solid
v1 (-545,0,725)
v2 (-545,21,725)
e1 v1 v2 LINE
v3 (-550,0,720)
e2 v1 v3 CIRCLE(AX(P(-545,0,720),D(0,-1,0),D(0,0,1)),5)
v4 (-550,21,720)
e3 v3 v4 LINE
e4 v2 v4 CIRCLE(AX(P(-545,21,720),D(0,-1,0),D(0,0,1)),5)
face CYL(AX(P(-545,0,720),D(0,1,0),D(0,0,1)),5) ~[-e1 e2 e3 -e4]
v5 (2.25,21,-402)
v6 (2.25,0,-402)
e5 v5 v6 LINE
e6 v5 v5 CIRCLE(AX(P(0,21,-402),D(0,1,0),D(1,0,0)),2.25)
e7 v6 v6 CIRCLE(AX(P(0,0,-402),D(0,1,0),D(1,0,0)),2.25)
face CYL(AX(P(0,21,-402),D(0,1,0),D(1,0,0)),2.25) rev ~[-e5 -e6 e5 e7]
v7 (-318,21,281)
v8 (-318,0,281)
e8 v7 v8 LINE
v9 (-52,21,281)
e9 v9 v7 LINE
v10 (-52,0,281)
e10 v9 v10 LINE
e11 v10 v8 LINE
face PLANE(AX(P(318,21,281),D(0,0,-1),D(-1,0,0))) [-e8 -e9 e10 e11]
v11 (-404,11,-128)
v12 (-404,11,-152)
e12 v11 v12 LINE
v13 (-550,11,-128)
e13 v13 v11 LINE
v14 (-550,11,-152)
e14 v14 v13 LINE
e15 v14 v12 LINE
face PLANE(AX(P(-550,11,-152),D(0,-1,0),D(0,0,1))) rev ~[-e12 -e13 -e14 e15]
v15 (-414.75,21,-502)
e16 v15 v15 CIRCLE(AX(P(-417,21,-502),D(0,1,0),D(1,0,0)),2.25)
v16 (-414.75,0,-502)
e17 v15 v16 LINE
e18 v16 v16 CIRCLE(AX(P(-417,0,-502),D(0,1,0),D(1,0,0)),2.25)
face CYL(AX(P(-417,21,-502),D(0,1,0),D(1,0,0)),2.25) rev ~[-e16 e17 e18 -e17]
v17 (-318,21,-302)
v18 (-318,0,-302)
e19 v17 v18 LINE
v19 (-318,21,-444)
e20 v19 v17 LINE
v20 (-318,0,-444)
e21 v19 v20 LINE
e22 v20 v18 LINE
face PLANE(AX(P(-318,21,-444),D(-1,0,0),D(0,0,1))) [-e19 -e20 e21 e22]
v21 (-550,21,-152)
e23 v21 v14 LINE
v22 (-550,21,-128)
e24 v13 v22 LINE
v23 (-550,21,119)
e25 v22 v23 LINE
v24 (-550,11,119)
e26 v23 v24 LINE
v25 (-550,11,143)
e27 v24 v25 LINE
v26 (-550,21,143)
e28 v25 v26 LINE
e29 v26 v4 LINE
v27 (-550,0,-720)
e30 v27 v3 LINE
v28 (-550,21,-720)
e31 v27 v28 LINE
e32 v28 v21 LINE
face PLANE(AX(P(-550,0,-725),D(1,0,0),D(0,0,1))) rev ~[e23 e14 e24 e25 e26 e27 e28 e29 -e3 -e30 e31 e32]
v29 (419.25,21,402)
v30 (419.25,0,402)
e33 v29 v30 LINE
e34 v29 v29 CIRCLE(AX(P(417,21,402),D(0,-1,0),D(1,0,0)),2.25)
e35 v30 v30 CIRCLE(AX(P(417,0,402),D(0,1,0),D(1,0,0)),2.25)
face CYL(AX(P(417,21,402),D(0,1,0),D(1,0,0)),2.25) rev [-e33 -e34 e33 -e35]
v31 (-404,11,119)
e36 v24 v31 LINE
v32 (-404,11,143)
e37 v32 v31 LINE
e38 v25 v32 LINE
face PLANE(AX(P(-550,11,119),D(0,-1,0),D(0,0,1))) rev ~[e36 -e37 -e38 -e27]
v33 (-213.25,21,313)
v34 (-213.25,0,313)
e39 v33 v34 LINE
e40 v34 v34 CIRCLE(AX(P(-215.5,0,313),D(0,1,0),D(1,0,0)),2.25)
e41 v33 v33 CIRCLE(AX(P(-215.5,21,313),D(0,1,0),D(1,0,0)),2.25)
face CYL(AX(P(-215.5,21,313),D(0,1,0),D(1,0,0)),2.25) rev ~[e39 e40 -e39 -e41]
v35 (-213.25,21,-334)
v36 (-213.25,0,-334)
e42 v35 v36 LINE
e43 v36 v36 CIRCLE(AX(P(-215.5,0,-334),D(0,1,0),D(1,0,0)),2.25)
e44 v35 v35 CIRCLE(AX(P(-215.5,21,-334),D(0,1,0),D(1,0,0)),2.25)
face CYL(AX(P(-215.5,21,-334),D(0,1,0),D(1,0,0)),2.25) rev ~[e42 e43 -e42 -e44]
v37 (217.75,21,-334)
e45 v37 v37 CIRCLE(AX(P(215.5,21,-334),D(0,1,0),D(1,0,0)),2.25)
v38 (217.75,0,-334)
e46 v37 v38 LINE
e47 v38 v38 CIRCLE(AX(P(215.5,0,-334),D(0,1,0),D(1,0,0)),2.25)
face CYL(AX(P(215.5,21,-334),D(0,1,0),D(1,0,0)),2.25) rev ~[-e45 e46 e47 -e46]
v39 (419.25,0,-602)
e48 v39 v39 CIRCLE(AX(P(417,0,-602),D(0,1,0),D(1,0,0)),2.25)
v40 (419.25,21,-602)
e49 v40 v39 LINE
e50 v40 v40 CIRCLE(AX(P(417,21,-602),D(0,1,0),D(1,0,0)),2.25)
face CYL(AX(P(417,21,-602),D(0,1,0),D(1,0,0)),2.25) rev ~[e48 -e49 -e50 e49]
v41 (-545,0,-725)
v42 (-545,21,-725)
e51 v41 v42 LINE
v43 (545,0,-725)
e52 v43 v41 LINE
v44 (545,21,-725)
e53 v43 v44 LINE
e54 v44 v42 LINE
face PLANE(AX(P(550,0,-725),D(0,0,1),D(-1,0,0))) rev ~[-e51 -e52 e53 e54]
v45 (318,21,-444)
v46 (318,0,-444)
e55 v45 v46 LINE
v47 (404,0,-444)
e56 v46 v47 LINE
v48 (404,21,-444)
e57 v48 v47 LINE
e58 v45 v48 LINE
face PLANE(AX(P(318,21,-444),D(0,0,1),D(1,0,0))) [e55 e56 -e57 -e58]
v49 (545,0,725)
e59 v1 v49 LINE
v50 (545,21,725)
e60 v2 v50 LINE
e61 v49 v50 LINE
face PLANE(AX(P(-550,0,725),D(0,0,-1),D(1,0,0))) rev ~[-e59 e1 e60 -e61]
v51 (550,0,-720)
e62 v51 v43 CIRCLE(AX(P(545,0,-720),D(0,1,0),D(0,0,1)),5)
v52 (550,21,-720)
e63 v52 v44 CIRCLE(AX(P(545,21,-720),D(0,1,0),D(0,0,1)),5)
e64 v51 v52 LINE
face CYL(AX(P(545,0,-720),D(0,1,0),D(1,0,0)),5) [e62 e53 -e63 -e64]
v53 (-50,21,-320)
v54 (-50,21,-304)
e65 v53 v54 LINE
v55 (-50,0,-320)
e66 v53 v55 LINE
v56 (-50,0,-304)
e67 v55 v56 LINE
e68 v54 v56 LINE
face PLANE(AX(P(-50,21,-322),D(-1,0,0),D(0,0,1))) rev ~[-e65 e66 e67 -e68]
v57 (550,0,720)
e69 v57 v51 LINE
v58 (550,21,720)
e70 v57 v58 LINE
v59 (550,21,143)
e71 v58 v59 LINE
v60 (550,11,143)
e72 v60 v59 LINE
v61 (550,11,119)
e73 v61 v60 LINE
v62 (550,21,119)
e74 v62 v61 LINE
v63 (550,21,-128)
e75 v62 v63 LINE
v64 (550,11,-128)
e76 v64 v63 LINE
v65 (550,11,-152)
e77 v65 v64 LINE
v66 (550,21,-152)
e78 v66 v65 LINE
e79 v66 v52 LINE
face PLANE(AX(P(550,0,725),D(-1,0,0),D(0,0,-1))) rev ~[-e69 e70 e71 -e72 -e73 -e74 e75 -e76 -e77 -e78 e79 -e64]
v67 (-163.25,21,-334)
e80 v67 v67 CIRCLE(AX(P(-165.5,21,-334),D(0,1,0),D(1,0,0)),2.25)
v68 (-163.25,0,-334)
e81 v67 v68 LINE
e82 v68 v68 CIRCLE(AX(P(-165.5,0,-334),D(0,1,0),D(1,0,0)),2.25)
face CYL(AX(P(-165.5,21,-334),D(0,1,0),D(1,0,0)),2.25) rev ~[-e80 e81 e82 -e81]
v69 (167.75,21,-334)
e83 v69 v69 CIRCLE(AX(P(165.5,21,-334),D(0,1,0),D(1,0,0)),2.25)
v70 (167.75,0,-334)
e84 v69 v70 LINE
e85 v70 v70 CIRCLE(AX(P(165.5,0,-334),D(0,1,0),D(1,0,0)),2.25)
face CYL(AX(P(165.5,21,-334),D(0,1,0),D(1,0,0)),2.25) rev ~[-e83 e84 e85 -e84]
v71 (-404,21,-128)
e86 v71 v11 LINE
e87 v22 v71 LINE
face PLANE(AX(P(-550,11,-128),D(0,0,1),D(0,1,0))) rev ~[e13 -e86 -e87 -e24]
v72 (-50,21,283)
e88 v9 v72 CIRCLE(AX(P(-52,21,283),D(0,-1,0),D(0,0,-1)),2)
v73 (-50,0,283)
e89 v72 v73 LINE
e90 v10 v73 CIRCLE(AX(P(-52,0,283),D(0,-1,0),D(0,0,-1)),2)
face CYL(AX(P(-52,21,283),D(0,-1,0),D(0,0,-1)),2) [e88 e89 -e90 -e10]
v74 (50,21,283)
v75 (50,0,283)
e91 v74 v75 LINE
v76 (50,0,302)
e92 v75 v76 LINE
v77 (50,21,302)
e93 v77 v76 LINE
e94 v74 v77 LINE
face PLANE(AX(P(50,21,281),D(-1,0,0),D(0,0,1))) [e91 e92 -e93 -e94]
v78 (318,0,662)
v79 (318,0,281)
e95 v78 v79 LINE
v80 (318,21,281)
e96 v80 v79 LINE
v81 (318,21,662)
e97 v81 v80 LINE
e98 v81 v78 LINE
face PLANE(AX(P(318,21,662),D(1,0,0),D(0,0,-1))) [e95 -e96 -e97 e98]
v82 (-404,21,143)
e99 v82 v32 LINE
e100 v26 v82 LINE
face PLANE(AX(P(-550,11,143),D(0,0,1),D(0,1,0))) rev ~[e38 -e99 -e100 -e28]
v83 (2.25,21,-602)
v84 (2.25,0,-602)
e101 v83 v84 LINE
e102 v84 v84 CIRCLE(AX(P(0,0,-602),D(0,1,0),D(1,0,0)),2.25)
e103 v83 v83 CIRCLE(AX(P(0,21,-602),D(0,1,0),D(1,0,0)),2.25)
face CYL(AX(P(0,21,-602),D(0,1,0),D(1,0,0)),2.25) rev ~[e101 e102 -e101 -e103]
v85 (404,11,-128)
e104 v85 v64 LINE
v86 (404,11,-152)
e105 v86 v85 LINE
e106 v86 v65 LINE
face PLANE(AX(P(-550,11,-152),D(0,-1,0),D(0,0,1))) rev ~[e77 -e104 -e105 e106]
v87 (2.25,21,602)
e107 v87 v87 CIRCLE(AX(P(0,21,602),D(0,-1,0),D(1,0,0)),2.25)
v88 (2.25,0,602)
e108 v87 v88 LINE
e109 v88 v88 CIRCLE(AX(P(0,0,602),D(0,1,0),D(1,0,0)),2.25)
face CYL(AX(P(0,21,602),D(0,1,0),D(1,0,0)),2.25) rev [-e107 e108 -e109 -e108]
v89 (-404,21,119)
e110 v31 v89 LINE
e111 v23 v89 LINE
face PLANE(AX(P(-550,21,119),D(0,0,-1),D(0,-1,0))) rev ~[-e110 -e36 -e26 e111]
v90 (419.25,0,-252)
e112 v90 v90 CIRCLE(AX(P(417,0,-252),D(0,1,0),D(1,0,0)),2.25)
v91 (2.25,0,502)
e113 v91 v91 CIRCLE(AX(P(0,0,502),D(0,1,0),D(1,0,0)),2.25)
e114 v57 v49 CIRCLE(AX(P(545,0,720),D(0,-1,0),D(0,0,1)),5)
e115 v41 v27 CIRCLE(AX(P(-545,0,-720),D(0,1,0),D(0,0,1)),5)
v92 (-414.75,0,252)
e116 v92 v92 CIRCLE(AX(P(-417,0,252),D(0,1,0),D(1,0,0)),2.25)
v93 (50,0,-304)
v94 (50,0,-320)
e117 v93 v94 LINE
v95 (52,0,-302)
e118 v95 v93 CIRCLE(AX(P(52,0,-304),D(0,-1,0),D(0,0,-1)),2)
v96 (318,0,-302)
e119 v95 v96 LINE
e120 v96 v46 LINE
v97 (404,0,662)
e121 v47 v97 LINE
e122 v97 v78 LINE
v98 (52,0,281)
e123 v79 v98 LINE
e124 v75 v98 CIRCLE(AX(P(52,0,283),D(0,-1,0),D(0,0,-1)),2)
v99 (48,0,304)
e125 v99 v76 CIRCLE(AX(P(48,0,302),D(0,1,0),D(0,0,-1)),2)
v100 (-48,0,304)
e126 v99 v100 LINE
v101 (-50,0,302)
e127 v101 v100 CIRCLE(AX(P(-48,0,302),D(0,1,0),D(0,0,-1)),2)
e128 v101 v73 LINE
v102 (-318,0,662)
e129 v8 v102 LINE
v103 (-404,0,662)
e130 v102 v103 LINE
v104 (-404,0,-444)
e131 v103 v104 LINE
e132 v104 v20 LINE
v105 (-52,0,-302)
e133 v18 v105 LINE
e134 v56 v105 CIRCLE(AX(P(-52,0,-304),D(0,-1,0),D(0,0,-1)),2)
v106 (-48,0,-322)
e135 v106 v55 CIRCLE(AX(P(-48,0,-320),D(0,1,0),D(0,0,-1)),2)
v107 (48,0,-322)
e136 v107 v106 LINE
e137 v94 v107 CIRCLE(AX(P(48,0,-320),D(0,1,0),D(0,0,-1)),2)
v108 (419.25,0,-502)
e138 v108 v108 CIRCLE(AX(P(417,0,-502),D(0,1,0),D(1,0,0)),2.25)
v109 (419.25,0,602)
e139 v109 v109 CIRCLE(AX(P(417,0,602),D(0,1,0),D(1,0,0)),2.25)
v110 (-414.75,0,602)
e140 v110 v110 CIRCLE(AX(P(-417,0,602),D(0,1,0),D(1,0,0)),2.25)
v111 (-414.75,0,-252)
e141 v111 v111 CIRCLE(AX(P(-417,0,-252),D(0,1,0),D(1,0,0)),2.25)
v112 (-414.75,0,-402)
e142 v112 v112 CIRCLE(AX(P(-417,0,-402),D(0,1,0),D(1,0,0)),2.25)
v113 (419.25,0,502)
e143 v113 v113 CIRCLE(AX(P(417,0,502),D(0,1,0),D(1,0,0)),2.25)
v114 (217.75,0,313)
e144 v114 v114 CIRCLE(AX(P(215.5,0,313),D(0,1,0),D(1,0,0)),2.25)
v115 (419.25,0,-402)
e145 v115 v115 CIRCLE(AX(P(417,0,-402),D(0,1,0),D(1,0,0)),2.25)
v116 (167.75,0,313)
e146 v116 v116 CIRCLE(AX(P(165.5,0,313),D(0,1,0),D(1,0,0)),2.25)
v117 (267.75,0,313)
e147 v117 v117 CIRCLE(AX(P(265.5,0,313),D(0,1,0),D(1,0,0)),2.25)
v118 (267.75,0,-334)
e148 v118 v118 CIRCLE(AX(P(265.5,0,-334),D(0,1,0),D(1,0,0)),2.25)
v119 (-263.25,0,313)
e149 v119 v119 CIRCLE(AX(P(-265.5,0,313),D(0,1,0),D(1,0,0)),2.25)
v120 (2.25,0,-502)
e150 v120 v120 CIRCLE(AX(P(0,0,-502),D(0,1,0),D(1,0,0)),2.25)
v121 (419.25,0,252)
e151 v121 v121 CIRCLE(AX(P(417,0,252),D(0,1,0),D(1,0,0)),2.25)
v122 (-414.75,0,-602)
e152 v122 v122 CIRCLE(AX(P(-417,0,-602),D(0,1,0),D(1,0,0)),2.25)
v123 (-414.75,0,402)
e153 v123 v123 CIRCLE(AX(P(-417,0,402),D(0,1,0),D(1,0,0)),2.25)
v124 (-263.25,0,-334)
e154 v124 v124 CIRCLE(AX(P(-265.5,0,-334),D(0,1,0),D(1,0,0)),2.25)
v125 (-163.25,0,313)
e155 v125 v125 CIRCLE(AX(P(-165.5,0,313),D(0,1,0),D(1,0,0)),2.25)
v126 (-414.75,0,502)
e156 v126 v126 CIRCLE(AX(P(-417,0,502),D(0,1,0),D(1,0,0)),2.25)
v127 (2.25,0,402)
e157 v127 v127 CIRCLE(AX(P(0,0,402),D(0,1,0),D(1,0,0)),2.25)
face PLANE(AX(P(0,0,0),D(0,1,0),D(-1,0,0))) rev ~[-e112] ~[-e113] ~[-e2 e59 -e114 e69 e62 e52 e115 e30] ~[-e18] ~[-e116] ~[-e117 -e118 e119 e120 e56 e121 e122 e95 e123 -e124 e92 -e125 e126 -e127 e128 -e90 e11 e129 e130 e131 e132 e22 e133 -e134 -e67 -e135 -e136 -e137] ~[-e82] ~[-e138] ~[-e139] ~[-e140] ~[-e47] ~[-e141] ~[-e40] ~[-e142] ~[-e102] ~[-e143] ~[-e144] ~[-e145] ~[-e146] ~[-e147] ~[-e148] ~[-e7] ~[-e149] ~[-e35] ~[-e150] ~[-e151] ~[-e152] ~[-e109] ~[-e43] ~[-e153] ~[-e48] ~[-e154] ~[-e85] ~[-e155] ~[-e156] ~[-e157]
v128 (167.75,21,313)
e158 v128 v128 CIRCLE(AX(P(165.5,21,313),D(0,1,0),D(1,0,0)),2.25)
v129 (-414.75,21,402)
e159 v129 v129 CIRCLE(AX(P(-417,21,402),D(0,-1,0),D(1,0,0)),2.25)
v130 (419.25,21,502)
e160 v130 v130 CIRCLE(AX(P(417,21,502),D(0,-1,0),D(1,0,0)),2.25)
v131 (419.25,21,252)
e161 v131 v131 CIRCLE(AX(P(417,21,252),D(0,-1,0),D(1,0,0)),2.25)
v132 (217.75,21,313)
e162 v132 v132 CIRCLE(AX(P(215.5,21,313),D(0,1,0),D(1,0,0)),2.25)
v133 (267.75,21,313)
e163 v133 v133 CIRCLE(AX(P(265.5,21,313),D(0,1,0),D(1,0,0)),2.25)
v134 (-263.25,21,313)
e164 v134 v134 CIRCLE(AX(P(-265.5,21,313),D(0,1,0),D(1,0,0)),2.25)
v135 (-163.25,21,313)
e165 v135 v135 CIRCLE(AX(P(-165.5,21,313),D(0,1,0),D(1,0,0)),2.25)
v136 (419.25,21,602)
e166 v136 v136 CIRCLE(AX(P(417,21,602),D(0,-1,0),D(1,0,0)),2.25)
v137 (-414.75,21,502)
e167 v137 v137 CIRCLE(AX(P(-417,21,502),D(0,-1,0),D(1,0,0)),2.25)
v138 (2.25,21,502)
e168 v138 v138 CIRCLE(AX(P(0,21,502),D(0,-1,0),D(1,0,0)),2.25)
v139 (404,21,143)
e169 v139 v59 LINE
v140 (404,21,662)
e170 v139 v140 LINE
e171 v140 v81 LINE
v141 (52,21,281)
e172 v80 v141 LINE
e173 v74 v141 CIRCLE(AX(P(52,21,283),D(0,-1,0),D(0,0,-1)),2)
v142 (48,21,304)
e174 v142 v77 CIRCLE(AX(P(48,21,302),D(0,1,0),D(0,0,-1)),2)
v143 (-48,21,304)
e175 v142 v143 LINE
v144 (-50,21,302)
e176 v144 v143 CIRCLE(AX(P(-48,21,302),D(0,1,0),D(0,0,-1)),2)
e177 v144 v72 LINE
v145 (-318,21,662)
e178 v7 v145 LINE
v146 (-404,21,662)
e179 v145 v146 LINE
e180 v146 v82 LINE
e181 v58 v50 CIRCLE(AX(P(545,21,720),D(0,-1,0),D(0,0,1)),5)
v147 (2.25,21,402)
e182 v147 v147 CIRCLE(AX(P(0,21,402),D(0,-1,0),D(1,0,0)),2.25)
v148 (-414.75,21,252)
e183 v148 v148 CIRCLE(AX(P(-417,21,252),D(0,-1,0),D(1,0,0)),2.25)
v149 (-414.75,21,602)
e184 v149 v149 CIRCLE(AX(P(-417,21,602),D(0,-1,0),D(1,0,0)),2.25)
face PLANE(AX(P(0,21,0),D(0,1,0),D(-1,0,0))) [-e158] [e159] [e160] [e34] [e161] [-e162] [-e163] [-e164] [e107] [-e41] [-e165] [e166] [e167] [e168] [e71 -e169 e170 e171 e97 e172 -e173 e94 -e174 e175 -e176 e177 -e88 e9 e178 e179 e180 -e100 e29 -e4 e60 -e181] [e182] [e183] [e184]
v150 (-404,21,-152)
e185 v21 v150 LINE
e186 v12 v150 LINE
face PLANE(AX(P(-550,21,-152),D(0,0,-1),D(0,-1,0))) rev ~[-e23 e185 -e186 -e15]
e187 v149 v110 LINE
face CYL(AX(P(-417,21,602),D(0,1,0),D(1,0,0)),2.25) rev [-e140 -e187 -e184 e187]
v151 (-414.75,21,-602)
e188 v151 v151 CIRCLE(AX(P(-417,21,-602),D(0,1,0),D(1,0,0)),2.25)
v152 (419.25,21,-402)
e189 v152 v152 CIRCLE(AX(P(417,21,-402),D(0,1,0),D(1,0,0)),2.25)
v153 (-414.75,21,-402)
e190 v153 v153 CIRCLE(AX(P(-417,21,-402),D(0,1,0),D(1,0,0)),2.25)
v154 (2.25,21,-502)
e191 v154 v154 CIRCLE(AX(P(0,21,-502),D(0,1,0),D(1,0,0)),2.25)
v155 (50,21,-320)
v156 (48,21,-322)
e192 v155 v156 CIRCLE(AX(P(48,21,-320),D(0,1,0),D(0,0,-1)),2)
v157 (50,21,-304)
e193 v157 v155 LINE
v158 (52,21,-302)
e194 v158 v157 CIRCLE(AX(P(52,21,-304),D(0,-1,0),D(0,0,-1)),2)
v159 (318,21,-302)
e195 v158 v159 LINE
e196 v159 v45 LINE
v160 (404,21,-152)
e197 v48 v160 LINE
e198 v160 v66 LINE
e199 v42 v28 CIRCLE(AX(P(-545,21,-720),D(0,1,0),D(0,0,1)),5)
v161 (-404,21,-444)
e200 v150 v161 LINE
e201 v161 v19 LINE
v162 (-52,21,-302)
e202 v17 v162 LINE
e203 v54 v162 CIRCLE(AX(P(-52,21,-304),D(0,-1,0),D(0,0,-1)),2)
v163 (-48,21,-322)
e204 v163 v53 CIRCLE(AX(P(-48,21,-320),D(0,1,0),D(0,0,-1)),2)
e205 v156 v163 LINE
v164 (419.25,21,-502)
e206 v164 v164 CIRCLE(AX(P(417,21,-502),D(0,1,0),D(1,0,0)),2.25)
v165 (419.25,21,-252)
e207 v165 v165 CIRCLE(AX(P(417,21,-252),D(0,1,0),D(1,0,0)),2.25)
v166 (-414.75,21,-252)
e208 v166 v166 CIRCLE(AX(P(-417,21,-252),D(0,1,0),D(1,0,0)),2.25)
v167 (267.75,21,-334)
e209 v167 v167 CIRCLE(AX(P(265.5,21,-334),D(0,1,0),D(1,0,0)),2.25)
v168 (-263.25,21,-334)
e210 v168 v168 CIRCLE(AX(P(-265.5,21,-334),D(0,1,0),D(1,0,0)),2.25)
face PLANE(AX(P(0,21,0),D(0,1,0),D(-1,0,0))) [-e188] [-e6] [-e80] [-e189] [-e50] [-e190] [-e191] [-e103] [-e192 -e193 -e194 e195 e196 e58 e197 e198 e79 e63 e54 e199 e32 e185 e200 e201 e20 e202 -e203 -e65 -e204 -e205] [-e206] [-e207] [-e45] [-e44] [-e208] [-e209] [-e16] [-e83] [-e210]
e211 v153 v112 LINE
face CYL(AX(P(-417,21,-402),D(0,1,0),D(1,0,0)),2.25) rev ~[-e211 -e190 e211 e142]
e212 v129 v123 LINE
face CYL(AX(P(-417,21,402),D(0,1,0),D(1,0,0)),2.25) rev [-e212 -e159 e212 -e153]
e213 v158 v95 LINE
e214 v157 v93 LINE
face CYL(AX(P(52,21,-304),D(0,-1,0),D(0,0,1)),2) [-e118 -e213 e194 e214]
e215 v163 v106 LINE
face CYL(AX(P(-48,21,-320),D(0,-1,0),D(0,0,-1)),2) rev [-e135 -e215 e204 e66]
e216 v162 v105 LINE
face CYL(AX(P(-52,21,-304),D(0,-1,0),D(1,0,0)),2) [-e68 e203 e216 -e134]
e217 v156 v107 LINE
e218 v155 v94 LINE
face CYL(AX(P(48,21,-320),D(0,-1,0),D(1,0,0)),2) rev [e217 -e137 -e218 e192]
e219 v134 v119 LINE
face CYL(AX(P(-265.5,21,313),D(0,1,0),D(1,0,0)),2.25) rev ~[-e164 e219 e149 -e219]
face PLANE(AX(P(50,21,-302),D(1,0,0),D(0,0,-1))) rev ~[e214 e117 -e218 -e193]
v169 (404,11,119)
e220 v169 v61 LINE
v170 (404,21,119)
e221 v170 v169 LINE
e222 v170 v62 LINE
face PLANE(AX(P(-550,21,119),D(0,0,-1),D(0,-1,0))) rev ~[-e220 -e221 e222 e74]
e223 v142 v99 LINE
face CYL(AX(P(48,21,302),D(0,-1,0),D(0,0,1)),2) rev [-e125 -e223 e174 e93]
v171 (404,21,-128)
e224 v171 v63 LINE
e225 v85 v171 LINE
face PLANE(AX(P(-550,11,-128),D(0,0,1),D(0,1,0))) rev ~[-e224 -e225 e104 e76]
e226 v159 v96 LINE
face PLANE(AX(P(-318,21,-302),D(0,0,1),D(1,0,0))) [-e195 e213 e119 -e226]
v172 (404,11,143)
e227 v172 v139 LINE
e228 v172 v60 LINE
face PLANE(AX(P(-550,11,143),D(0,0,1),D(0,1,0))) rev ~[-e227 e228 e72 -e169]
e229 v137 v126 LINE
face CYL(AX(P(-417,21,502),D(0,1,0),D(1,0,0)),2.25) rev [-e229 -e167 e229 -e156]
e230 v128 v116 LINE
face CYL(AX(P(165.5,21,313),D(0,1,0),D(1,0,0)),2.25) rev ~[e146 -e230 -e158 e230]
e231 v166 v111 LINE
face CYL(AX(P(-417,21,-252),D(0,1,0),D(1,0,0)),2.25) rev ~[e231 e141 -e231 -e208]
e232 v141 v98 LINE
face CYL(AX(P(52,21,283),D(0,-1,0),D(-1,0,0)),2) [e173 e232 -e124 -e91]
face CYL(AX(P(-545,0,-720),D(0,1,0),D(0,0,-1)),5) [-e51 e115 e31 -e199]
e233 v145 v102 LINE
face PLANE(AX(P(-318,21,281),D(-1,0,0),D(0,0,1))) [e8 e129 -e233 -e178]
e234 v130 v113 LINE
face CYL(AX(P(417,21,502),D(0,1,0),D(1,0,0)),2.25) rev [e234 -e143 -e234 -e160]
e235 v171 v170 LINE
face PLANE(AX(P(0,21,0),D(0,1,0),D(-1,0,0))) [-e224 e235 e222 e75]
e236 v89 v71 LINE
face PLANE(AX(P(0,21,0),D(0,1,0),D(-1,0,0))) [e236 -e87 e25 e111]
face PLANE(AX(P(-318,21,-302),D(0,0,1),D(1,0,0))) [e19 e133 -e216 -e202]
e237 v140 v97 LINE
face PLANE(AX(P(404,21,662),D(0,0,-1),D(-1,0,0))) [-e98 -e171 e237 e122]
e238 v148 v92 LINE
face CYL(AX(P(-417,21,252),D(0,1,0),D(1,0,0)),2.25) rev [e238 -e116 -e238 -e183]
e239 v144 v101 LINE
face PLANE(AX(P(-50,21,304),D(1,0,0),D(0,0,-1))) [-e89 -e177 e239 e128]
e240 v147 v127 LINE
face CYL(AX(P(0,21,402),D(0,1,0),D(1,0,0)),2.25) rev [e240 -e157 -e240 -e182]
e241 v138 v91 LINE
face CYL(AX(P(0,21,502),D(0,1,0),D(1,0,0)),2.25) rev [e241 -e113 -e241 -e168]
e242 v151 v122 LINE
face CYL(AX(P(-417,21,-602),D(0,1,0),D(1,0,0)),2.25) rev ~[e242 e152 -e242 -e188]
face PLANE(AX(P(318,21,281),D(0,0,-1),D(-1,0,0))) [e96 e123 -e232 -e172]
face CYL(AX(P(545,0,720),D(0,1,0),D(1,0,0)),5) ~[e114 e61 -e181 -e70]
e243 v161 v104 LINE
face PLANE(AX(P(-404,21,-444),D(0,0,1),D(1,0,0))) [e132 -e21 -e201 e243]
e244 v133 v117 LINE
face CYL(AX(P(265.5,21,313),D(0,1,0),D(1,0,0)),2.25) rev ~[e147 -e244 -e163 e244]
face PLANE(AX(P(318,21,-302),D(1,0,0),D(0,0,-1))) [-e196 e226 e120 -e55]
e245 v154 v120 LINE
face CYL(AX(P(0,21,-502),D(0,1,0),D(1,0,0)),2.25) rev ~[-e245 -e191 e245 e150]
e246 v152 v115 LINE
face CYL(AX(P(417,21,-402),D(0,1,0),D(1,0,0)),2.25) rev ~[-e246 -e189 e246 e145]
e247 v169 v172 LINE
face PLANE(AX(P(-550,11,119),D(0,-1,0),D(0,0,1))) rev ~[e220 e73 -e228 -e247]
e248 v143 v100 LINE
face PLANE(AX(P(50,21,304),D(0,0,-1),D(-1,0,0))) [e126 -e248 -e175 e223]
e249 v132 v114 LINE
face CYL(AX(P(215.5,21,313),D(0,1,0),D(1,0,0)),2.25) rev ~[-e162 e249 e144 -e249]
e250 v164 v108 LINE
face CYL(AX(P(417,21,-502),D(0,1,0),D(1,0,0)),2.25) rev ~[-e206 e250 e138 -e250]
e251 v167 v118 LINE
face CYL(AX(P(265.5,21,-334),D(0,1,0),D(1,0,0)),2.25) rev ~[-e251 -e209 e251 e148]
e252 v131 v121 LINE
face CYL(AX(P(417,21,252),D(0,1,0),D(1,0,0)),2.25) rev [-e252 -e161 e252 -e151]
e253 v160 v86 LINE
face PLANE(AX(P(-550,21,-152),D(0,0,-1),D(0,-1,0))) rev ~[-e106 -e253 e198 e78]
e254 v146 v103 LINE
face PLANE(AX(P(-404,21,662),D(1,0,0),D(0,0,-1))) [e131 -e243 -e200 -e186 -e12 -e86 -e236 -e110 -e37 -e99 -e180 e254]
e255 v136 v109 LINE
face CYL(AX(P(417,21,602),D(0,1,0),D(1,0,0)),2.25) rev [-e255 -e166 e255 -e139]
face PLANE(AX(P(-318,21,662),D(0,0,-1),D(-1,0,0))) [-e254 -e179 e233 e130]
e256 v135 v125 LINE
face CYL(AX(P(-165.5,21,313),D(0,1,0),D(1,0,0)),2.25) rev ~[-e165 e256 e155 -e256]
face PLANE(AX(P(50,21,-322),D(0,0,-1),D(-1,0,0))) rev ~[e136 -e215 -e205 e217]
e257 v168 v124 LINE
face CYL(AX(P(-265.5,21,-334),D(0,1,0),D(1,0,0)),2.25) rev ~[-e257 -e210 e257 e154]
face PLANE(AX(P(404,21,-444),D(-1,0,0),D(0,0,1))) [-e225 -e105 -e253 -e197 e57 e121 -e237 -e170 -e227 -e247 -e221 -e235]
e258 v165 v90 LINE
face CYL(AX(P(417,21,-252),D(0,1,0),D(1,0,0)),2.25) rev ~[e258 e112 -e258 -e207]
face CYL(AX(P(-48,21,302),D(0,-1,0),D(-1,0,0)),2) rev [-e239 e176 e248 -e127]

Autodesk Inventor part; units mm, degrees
ref_plane "YZ Plane" through (0, 0, 0) normal (1, 0, 0) x (0, 1, 0)
ref_plane "XZ Plane" through (0, 0, 0) normal (0, 1, 0) x (-1, 0, 0)
ref_plane "XY Plane" through (0, 0, 0) normal (0, 0, 1) x (1, 0, 0)
sketch "Esquisse1" plane through (0, 0, 0) normal (0, 1, 0) x (-1, 0, 0)
  line L0 (-550, -725) -> (550, -725)
  line L1 (550, -725) -> (550, 725)
  line L2 (550, 725) -> (-550, 725)
  line L3 (-550, 725) -> (-550, -725)
  line L4 (-550, -725) -> (550, 725) construction
  line L5 (550, -725) -> (-550, 725) construction
  point P0 (0, 0)
  dimension "d0" = 1450
  dimension "d1" = 1100
extrude "Extrusion1" add sketch "Esquisse1" along normal blind 21
sketch "Esquisse2" plane through (0, 21, 0) normal (0, 1, 0) x (1, 0, 0)
  line L0 (-404, -662) -> (-404, 444)
  line L1 (-404, 444) -> (-318, 444)
  line L2 (-318, 444) -> (-318, 302)
  line L3 (-318, 302) -> (318, 302)
  line L4 (318, 302) -> (318, 444)
  line L5 (318, 444) -> (404, 444)
  line L6 (404, 444) -> (404, -662)
  line L7 (404, -662) -> (318, -662)
  line L8 (318, -662) -> (318, -281)
  line L9 (318, -281) -> (-318, -281)
  line L10 (-318, -281) -> (-318, -662)
  line L11 (-318, -662) -> (-404, -662)
  line L12 (550, -725) -> (550, 725) projected
  line L13 (-550, 725) -> (-550, -725) projected
  line L14 (-550, -725) -> (550, -725) projected
  line L15 (550, 725) -> (-550, 725) projected
  line L16 (-550, 0) -> (-404, 0) construction
  line L17 (550, 0) -> (404, 0) construction
  point P0 (0, 0)
  dimension "d4" = 1106
  dimension "d5" = 86
  dimension "d7" = 583
  dimension "d8" = 142
  dimension "d55" = 636
  dimension "d56" = 281
extrude "Extrusion2" cut sketch "Esquisse2" against normal blind 21.1 contours L0 L1 L2 L3 L4 L5 L6 L7 L8 L9 L10 L11
sketch "Esquisse3" plane through (-550, 0, 575) normal (1, 0, 0) x (0, 0, -1)
  line L0 (-87, 21) -> (1019, 21) projected
  line L1 (432, 21) -> (456, 21)
  line L2 (456, 21) -> (456, 11)
  line L3 (456, 11) -> (432, 11)
  line L4 (432, 11) -> (432, 21)
  line L5 (-150, 0) -> (-150, 21) projected
  line L6 (703, 21) -> (727, 21)
  line L7 (727, 21) -> (727, 11)
  line L8 (727, 11) -> (703, 11)
  line L9 (703, 11) -> (703, 21)
  line L10 (877, 21) -> (877, 0) projected
  line L11 (294, 21) -> (294, 0) projected
  point P0 (575, 0)
  point P1 (456, 21)
  dimension "d14" = 24
  dimension "d15" = 10
  dimension "d17" = 24
  dimension "d57" = 150
  dimension "d58" = 138
extrude "Extrusion3" cut sketch "Esquisse3" along normal blind 1500
sketch "Esquisse4" plane through (0, 21, 0) normal (0, 1, 0) x (1, 0, 0)
  line L0 (318, 302) -> (-318, 302) projected
  line L1 (-50, 302) -> (50, 302)
  line L2 (50, 302) -> (50, 322)
  line L3 (50, 322) -> (-50, 322)
  line L4 (-50, 322) -> (-50, 302)
  line L5 (-318, -281) -> (318, -281) projected
  line L6 (-50, -281) -> (50, -281)
  line L7 (50, -281) -> (50, -304)
  line L8 (50, -304) -> (-50, -304)
  line L9 (-50, -304) -> (-50, -281)
  line L10 (-318, 444) -> (-318, 302) projected
  line L11 (318, 302) -> (318, 444) projected
  point P0 (0, 0)
  point P1 (50, 302)
  point P2 (0, 302)
  dimension "d20" = 23
  dimension "d21" = 100
  dimension "d50" = 20
extrude "Extrusion4" cut sketch "Esquisse4" against normal blind 100
fillet "Congé1" radius 2 8 edges at (50, 10.5, -322) (50, 10.5, -302) (-50, 10.5, -322) (-50, 10.5, -302) (-50, 10.5, 281) (-50, 10.5, 304) (50, 10.5, 304) (50, 10.5, 281)
sketch "Esquisse5" plane through (0, 21, 0) normal (0, 1, 0) x (1, 0, 0)
  circle A0 centre (0, 502) radius 2.25
  circle A1 centre (0, 402) radius 2.25
  line L0 (-550, 725) -> (-550, -725) projected
  line L1 (550, -725) -> (550, 725) projected
  circle A2 centre (0, 602) radius 2.25
  line L2 (-318, 302) -> (-52, 302) projected
  circle A3 centre (417, 602) radius 2.25
  circle A4 centre (417, 502) radius 2.25
  circle A5 centre (417, 402) radius 2.25
  circle A6 centre (-417, 402) radius 2.25
  circle A7 centre (-417, 502) radius 2.25
  circle A8 centre (-417, 602) radius 2.25
  circle A9 centre (-417, 252) radius 2.25
  circle A10 centre (417, 252) radius 2.25
  line L3 (0, 402) -> (0, 322) construction
  line L4 (48, 322) -> (-48, 322) projected
  point P0 (0, 0)
  point P1 (-550, 152)
  dimension "d29" = 100
  dimension "d30" = 100
  dimension "d32" = 100
  dimension "d35" = 133
  dimension "d36" = 133
  dimension "d51" = 150
  dimension "d52" = 4.5
extrude "Extrusion5" cut sketch "Esquisse5" against normal blind 100
mirror "Symétrie1" about plane through (0, 0, 0) normal (0, 0, 1) of "Extrusion5"
sketch "Esquisse6" plane through (0, 21, 0) normal (0, 1, 0) x (1, 0, 0)
  circle A0 centre (-265.5, -313) radius 2.25
  line L0 (-318, -662) -> (-318, -281) projected
  line L1 (-318, -313) -> (318, -313) construction
  line L2 (318, -662) -> (318, -281) projected
  line L3 (48, -304) -> (-48, -304) projected
  circle A1 centre (-215.5, -313) radius 2.25
  circle A2 centre (-165.5, -313) radius 2.25
  line L4 (-48, -304) -> (48, -304) projected
  line L5 (0, -304) -> (0, -725) construction
  line L6 (-550, -725) -> (550, -725) projected
  circle A3 centre (265.5, -313) radius 2.25
  circle A4 centre (215.5, -313) radius 2.25
  circle A5 centre (165.5, -313) radius 2.25
  point P0 (0, 0)
  dimension "d37" = 4.5
  dimension "d38" = 9
  dimension "d39" = 52.5
  dimension "d42" = 50
extrude "Extrusion6" cut sketch "Esquisse6" against normal blind 100
sketch "Esquisse7" plane through (0, 21, 0) normal (0, 1, 0) x (1, 0, 0)
  circle A0 centre (265.5, 334) radius 2.25
  circle A1 centre (215.5, 334) radius 2.25
  circle A2 centre (165.5, 334) radius 2.25
  circle A3 centre (-165.5, 334) radius 2.25
  circle A4 centre (-215.5, 334) radius 2.25
  circle A5 centre (-265.5, 334) radius 2.25
  line L0 (318, 302) -> (318, 444) projected
  circle A6 centre (265.5, -313) radius 2.25 projected
  line L1 (50, 320) -> (50, 304) projected
  circle A7 centre (-265.5, -313) radius 2.25 projected
  line L2 (-52, -281) -> (-318, -281) projected
  line L3 (-318, 302) -> (-52, 302) projected
  point P0 (0, 0)
  dimension "d60" = 50
  dimension "d61" = 50
  dimension "d62" = 115.5
  dimension "d63" = 50
  dimension "d64" = 50
  dimension "d66" = 32
fillet "Congé2" radius 5 4 edges at (550, 10.5, -725) (-550, 10.5, -725) (-550, 10.5, 725) (550, 10.5, 725)
ref_plane "Plan de construction2" through (0, 21, -128) normal (-1, 0, 0) x (0, 0, 1)
extrude "Extrusion7" cut sketch "Esquisse7" against normal blind 21 contours A0 | A1 | A2 | A3 | A4 | A5
ref_plane "Plan de construction1" through (0, 0, 0) normal (0, 0, 1) x (1, 0, 0)
properties part number "top_part"
